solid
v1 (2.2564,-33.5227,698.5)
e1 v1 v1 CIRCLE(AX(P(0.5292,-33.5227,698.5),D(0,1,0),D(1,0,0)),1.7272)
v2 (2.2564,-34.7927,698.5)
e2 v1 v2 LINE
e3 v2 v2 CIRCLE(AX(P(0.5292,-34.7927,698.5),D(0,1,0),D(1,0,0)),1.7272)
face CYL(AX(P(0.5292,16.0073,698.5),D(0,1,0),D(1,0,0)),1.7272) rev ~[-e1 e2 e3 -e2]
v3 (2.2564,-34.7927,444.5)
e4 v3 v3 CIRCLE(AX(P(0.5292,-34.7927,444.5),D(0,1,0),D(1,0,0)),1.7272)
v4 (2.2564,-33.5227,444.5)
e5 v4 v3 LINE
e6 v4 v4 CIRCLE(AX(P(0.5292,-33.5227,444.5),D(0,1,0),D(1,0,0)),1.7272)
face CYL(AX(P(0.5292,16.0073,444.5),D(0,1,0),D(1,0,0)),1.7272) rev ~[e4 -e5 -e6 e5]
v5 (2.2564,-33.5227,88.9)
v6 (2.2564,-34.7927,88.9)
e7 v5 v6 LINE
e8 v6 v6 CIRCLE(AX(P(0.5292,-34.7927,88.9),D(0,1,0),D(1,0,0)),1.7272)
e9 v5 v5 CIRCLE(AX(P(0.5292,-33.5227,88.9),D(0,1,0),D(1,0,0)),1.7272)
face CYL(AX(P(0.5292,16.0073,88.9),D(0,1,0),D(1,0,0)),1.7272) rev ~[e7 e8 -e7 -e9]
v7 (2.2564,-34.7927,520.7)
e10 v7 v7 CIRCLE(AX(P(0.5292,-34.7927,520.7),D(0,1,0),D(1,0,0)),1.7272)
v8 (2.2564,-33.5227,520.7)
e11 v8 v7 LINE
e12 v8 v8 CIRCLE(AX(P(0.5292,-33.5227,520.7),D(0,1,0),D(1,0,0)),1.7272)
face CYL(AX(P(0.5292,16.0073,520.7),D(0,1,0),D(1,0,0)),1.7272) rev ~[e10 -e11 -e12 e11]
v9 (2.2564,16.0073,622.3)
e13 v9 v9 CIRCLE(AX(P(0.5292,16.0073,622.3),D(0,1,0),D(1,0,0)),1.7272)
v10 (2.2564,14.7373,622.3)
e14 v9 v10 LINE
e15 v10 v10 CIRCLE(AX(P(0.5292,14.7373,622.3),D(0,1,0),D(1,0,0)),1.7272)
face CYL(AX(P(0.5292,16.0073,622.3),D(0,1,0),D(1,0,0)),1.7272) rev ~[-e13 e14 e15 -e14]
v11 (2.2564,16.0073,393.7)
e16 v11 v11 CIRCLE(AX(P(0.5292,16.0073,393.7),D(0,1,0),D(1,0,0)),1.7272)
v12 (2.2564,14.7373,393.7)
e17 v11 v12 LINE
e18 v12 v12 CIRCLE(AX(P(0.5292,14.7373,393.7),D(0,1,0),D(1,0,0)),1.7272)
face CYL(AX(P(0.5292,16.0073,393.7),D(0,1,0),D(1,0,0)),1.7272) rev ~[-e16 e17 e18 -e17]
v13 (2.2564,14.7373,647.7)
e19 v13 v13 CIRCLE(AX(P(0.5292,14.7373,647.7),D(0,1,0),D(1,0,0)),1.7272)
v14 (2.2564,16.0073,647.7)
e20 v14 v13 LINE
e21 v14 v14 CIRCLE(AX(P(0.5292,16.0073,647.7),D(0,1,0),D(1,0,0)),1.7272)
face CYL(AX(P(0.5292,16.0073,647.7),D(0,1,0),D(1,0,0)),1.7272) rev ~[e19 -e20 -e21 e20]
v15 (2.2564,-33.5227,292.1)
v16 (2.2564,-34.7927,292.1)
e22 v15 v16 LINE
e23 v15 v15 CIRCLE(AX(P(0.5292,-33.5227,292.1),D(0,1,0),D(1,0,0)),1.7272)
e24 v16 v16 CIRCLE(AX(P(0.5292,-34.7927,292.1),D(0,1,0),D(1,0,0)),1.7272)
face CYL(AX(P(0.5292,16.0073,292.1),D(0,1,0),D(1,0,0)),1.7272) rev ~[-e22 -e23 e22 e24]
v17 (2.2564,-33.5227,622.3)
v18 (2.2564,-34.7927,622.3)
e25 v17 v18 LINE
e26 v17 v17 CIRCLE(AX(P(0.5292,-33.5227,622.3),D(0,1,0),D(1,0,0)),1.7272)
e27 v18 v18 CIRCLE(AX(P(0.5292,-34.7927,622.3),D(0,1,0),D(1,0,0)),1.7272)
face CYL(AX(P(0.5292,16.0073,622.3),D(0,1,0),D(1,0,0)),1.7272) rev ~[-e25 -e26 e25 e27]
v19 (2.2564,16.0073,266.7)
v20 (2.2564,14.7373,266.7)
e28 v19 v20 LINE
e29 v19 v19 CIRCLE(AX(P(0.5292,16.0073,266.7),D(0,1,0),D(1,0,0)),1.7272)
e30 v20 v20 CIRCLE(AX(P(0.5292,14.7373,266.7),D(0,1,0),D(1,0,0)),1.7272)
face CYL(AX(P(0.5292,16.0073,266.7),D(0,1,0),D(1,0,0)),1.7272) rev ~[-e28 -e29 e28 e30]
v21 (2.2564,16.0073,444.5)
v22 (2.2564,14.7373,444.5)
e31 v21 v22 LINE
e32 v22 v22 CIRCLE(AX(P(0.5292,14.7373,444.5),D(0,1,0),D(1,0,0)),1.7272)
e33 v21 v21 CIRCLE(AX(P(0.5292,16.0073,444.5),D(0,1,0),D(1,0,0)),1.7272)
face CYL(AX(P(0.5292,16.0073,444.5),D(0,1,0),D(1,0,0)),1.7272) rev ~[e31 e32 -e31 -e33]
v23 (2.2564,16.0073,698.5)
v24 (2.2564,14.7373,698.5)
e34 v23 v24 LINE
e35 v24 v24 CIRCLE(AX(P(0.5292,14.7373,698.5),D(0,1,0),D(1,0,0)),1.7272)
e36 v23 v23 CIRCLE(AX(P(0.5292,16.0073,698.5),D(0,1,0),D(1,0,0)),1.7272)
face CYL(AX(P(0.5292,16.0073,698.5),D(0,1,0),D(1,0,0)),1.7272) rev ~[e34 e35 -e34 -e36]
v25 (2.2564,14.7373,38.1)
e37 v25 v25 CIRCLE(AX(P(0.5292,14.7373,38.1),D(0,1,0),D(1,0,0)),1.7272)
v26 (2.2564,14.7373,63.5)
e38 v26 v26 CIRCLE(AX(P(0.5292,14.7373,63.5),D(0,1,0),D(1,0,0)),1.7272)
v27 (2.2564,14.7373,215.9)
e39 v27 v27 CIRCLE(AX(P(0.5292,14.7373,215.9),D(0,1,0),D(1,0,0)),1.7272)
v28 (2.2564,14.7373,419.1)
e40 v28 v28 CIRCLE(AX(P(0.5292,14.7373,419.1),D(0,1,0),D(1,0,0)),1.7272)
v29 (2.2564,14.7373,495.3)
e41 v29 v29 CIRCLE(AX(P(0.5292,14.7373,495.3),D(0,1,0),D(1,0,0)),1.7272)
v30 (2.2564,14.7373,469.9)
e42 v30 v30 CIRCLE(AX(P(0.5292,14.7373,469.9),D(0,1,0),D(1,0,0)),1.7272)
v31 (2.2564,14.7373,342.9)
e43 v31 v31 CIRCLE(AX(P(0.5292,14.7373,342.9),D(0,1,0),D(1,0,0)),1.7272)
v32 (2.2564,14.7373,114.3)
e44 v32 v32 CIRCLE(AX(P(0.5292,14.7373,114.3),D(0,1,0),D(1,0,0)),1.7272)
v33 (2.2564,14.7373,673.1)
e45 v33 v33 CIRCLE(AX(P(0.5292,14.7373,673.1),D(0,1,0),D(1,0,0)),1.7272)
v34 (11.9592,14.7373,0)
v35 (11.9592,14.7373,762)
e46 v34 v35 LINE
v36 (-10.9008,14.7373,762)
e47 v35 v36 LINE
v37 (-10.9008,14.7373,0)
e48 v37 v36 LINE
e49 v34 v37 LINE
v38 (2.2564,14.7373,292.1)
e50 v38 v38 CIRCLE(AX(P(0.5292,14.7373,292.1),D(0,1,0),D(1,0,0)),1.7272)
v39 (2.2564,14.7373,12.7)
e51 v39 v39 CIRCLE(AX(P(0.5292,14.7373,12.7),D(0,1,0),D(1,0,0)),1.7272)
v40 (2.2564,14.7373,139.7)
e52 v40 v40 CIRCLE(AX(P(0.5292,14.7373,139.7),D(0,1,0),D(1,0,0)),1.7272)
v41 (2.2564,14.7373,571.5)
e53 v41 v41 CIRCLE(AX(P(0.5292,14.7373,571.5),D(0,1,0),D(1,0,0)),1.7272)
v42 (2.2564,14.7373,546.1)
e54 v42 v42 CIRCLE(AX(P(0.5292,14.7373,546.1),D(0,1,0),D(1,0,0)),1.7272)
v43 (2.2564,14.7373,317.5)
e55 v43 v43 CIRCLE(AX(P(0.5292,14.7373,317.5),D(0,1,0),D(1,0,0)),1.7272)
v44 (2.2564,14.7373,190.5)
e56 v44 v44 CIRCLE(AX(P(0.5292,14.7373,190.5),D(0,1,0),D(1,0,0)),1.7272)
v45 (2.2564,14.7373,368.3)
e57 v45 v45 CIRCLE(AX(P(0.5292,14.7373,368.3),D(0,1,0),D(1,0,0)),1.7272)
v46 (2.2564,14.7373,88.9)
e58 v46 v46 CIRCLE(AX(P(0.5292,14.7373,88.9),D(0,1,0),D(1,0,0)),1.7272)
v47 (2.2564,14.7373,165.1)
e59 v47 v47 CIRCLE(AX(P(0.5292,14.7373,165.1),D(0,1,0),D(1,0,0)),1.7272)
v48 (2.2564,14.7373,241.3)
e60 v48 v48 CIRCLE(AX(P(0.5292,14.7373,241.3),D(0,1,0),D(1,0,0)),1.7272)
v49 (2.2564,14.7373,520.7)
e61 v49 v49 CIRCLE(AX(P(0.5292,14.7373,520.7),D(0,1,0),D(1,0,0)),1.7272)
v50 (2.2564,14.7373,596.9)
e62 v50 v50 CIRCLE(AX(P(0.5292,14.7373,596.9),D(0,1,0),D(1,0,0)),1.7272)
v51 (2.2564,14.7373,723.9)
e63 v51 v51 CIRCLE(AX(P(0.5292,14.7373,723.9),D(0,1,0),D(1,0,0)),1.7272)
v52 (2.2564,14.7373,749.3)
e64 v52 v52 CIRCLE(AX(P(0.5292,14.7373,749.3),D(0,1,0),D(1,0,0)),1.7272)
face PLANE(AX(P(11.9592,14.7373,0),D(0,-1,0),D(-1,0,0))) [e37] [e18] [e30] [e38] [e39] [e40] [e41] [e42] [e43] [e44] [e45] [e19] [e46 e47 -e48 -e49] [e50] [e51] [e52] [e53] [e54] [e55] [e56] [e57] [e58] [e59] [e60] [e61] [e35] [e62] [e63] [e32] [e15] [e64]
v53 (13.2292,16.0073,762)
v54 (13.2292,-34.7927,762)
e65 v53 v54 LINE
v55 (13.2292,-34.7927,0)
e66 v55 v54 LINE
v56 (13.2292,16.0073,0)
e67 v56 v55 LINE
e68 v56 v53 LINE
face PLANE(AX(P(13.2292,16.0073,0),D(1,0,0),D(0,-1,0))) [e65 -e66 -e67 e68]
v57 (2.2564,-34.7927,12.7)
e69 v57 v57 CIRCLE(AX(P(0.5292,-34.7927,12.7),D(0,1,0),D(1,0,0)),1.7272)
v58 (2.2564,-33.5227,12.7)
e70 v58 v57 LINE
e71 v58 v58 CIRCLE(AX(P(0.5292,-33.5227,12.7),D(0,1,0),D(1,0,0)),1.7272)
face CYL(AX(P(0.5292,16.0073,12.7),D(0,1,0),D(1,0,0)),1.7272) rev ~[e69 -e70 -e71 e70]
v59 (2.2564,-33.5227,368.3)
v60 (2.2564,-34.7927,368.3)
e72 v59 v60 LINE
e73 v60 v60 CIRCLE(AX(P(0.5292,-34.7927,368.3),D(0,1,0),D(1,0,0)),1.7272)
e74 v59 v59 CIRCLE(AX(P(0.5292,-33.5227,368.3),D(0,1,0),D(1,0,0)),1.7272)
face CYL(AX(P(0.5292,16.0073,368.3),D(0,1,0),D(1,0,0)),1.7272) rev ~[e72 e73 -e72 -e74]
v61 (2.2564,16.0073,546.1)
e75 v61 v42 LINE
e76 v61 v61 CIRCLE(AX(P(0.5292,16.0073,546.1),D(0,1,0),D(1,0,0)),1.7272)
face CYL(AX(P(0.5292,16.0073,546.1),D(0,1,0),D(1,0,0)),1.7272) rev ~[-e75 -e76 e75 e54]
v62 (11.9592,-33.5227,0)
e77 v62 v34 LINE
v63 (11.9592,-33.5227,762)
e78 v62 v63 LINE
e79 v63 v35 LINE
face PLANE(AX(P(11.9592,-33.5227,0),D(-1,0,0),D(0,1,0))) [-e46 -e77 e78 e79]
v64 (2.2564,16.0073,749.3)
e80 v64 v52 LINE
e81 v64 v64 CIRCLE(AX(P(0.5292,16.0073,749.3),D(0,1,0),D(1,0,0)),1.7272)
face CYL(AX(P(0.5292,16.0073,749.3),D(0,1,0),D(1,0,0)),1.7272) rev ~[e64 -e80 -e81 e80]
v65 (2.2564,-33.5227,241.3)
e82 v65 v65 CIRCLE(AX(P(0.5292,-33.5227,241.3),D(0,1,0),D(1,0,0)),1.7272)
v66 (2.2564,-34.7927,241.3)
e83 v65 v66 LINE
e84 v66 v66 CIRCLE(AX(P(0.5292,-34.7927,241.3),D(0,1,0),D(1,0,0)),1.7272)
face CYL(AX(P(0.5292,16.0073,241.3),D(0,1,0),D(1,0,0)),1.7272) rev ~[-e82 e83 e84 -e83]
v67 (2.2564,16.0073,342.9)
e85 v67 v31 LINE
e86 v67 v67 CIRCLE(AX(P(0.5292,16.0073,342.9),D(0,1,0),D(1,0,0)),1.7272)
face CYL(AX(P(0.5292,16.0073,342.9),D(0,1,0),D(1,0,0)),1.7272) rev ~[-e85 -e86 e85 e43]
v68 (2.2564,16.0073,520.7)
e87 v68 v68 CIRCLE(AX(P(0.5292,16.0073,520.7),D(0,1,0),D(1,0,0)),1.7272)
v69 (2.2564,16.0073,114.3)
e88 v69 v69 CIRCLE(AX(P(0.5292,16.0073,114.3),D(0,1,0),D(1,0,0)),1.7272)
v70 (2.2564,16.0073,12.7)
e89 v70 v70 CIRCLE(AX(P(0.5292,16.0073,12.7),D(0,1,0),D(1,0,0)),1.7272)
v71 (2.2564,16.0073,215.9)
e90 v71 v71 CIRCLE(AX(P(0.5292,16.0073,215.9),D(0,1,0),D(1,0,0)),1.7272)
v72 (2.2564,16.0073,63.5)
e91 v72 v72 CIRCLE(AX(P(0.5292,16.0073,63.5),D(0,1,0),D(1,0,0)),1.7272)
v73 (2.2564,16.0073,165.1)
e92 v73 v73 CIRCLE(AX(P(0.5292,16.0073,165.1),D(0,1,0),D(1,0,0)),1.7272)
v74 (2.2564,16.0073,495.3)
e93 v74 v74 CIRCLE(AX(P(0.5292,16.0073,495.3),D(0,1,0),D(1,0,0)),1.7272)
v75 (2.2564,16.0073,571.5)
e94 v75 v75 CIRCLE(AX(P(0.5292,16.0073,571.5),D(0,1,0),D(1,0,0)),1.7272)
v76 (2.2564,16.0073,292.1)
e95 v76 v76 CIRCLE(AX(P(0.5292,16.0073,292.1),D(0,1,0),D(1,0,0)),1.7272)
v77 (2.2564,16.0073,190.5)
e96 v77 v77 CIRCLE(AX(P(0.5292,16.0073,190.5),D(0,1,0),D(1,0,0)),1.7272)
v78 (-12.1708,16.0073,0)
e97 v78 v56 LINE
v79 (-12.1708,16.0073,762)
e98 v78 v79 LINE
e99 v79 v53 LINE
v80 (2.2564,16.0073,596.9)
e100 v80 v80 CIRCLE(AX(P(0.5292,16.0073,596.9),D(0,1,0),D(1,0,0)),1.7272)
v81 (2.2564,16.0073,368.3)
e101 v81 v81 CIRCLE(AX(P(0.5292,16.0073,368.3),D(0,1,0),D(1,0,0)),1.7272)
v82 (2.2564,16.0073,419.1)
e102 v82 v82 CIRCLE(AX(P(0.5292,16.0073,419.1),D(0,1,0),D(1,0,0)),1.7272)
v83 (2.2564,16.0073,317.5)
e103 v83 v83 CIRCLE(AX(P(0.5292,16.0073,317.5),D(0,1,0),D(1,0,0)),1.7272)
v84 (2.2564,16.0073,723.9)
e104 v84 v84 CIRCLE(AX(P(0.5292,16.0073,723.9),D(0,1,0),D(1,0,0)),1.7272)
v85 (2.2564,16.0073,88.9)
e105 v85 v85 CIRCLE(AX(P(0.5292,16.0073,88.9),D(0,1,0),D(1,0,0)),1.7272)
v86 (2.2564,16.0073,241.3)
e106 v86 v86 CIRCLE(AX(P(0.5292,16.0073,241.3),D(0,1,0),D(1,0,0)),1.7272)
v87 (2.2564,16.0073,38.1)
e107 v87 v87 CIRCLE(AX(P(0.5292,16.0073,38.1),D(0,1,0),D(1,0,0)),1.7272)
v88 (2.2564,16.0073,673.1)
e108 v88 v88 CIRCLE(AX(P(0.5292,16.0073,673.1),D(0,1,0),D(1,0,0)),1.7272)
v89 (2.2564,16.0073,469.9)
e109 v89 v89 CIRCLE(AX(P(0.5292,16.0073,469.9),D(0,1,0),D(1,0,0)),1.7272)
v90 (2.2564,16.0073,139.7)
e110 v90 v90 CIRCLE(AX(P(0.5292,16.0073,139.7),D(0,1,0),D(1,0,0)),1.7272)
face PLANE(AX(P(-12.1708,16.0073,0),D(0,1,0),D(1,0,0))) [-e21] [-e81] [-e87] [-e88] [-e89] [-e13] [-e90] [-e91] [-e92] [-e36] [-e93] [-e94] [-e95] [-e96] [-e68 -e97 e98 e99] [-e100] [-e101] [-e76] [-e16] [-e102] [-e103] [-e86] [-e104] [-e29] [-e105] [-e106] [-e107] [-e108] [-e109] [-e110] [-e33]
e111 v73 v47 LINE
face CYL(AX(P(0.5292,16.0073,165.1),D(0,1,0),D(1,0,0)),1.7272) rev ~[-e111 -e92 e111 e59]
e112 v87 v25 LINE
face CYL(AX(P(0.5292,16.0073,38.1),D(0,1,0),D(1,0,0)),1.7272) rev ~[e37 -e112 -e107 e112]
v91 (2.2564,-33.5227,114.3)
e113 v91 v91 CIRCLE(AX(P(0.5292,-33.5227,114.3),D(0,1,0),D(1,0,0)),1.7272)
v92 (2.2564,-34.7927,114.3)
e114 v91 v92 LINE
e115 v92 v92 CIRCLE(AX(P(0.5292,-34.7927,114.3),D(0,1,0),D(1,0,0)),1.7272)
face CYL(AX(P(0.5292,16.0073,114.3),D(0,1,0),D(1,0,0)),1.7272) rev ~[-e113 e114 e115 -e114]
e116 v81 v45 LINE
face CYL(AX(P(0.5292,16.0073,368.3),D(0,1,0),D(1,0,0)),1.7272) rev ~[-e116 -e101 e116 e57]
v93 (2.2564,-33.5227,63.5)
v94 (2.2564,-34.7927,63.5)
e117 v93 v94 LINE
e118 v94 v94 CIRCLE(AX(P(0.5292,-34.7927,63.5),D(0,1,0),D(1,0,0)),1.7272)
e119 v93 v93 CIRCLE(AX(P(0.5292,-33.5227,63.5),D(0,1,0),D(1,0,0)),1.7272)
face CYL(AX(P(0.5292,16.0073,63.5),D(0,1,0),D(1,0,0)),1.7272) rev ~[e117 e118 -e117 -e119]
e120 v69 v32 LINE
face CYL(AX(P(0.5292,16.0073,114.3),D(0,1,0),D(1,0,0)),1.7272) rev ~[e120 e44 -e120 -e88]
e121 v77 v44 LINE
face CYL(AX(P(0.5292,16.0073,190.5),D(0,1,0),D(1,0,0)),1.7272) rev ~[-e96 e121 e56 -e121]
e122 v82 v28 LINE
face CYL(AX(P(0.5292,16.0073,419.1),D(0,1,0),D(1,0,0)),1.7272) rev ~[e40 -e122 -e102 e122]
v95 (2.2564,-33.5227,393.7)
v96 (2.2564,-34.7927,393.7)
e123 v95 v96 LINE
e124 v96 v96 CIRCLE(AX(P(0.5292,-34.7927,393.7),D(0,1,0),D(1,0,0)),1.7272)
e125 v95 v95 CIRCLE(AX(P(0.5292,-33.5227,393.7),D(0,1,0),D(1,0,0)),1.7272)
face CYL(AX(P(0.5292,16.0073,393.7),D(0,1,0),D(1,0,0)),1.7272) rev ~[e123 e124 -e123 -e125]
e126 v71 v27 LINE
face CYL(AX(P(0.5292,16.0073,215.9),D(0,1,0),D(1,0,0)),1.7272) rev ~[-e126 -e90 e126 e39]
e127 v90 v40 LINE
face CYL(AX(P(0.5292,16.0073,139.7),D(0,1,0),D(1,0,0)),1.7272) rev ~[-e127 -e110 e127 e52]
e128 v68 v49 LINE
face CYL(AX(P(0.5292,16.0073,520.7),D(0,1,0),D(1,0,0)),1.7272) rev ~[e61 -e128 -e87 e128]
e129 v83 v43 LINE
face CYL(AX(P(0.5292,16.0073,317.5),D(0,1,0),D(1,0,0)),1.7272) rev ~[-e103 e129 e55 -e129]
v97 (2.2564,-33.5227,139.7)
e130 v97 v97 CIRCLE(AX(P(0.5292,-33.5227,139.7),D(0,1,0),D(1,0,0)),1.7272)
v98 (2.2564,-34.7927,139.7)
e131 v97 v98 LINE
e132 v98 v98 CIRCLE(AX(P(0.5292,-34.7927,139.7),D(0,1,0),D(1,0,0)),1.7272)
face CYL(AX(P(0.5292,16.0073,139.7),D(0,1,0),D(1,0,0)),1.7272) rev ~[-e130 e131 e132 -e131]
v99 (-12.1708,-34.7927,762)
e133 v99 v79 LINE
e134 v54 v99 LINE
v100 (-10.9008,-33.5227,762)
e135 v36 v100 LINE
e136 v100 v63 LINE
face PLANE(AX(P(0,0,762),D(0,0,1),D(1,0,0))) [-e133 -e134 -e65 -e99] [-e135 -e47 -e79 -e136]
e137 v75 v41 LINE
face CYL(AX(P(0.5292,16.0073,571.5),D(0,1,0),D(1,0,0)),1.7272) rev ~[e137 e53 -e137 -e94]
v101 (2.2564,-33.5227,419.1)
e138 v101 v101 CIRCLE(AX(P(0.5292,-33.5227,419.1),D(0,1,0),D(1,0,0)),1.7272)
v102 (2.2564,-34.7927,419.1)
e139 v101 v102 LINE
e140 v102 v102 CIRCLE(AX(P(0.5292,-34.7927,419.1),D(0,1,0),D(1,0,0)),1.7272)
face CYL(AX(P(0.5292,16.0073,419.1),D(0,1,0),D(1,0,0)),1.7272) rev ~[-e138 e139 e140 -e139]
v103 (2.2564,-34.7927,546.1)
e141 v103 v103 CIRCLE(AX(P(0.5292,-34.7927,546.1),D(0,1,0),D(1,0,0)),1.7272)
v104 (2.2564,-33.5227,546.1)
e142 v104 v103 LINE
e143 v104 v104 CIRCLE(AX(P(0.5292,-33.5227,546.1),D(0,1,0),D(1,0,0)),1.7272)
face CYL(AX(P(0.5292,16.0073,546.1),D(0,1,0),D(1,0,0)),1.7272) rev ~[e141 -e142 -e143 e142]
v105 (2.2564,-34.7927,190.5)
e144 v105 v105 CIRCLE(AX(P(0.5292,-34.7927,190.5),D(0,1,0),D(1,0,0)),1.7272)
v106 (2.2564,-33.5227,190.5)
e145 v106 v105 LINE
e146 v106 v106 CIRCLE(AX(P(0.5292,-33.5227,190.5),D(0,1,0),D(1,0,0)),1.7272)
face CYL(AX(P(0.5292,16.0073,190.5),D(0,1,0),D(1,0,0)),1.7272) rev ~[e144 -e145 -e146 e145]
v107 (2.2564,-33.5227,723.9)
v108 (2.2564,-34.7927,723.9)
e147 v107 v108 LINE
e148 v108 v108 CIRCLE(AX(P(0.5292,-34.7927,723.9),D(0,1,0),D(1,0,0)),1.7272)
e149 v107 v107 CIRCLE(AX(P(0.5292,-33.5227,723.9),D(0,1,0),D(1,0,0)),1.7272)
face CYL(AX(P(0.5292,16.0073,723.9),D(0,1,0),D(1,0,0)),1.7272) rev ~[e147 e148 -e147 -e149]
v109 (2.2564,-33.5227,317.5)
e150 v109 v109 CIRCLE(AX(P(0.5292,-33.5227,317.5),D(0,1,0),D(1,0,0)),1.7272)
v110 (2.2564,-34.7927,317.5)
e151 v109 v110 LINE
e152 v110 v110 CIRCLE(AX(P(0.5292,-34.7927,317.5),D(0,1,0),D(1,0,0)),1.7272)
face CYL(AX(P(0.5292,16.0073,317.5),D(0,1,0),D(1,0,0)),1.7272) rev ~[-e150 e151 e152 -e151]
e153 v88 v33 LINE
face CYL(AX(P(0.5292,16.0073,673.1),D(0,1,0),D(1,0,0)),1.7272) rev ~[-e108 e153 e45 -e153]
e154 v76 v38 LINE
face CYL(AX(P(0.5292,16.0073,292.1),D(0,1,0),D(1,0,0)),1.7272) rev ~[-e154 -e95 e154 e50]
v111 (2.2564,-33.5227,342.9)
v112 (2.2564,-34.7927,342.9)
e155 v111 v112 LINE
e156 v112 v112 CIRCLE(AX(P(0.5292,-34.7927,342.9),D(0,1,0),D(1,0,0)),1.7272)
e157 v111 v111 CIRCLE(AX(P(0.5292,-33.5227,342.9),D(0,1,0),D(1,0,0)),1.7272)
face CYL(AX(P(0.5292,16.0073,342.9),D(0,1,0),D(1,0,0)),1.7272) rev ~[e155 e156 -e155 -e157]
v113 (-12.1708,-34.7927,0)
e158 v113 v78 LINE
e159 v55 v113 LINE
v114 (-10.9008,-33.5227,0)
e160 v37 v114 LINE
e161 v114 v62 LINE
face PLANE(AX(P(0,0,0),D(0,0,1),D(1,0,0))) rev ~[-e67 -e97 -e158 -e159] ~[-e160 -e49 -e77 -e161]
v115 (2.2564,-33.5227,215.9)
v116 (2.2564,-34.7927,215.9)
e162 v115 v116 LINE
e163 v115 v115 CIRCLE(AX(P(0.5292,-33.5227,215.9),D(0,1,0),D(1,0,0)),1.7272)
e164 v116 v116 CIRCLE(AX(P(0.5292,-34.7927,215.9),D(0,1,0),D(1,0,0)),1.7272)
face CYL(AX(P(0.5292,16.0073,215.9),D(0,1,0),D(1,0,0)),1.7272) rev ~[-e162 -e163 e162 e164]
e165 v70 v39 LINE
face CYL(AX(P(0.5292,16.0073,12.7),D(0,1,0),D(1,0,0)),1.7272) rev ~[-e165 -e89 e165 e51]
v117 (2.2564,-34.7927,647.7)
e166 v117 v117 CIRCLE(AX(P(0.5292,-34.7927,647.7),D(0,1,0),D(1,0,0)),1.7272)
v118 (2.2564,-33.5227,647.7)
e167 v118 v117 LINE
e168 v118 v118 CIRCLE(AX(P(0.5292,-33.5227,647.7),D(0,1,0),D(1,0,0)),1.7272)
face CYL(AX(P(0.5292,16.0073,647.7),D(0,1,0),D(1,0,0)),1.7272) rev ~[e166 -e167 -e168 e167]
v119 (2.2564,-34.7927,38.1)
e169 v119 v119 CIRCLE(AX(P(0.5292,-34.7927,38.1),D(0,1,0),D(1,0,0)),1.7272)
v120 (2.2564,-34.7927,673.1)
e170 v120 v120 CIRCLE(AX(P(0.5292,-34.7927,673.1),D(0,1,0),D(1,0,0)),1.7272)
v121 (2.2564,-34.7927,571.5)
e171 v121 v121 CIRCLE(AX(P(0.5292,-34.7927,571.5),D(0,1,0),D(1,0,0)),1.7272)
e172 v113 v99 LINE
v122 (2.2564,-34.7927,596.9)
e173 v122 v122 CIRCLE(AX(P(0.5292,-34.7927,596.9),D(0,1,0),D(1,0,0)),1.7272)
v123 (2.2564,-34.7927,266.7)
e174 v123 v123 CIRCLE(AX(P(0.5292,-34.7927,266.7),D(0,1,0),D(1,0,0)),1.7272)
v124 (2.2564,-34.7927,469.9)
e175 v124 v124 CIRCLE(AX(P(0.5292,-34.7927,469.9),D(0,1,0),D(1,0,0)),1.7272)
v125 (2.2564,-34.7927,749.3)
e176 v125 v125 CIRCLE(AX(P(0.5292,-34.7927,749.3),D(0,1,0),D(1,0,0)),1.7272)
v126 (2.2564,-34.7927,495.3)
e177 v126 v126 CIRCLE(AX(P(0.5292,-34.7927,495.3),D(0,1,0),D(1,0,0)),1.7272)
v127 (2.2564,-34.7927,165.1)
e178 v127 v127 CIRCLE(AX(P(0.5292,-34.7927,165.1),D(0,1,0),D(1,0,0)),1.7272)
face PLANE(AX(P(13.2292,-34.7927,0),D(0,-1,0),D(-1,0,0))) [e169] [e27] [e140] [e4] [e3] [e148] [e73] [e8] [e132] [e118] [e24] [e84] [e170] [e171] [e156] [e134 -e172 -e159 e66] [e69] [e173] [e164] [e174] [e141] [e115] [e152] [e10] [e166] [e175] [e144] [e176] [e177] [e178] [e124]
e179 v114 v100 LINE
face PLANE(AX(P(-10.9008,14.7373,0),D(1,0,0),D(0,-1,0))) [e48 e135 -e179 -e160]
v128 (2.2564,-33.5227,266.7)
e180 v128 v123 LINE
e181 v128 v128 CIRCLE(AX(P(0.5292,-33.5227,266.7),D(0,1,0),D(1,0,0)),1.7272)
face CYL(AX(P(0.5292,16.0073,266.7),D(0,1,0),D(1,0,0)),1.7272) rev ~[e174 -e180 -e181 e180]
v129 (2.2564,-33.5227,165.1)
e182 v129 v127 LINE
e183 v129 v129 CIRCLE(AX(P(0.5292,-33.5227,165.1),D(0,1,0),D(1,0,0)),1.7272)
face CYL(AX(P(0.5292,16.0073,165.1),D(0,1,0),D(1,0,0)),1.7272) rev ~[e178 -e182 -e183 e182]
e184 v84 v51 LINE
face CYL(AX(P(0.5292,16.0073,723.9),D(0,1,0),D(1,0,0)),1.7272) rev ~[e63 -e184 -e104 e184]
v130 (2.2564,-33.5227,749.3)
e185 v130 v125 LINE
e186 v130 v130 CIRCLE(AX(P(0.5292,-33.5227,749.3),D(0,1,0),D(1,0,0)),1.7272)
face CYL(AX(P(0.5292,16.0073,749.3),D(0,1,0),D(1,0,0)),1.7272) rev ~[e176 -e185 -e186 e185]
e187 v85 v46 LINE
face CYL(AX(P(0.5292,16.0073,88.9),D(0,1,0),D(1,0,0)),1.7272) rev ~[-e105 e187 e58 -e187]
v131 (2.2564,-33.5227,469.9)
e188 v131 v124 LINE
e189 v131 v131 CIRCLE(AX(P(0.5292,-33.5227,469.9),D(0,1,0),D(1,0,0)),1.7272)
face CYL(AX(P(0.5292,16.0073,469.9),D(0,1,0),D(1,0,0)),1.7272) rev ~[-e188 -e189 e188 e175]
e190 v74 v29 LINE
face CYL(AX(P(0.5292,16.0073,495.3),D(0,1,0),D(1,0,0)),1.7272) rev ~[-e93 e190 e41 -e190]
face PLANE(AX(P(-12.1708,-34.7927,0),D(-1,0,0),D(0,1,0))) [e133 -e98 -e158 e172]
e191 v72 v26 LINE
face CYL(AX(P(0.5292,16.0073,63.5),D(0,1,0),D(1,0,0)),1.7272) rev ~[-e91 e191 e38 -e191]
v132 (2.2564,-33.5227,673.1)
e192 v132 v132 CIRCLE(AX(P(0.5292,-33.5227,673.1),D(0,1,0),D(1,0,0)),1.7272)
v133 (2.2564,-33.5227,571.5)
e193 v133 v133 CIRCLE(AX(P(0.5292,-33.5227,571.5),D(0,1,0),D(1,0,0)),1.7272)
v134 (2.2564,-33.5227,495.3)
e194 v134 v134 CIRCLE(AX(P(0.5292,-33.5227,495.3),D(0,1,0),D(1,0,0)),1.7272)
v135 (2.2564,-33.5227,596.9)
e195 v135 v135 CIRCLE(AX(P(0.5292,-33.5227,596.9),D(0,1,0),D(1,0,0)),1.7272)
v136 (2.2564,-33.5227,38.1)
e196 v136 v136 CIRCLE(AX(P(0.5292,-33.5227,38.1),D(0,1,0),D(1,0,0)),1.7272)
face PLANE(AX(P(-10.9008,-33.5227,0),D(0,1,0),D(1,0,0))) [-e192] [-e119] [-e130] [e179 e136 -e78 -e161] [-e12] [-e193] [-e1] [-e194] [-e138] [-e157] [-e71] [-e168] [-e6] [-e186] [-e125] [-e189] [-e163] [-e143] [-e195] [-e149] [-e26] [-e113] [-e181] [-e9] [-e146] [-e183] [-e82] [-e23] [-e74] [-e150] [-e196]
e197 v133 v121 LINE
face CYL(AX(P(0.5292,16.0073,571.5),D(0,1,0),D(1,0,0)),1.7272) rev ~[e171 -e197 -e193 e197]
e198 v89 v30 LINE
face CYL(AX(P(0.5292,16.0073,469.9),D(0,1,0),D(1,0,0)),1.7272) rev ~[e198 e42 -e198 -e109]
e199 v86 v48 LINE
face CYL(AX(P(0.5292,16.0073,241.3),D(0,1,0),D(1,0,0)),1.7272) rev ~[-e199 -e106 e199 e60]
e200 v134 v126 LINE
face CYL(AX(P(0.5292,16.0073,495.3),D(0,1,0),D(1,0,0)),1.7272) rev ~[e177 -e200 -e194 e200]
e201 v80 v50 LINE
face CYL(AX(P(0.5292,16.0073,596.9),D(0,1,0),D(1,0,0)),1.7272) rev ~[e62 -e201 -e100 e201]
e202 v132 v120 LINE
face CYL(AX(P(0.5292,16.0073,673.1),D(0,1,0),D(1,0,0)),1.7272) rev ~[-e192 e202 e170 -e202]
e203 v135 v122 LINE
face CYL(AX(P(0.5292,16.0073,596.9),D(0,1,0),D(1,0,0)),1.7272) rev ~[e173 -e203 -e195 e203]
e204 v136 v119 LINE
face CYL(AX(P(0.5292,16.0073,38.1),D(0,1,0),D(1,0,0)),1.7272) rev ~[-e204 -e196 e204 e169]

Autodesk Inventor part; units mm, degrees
ref_plane "YZ Plane" through (0, 0, 0) normal (1, 0, 0) x (0, 1, 0)
ref_plane "XZ Plane" through (0, 0, 0) normal (0, 1, 0) x (-1, 0, 0)
ref_plane "XY Plane" through (0, 0, 0) normal (0, 0, 1) x (1, 0, 0)
sketch "Sketch1" plane through (0, 0, 0) normal (0, 0, 1) x (1, 0, 0)
  line L0 (-12.1708, 16.0073) -> (13.2292, 16.0073)
  line L1 (13.2292, 16.0073) -> (13.2292, -34.7927)
  line L2 (13.2292, -34.7927) -> (-12.1708, -34.7927)
  line L3 (-12.1708, -34.7927) -> (-12.1708, 16.0073)
  line L4 (11.9592, 14.7373) -> (-10.9008, 14.7373)
  line L5 (-10.9008, 14.7373) -> (-10.9008, -33.5227)
  line L6 (-10.9008, -33.5227) -> (11.9592, -33.5227)
  line L7 (11.9592, -33.5227) -> (11.9592, 14.7373)
  point P0 (0, 0)
  dimension "d0" = 25.4
  dimension "d1" = 50.8
  dimension "d2" = 1.27
extrude "Extrusion1" add sketch "Sketch1" along normal blind 762
sketch "Sketch2" plane through (-12.1708, 16.0073, 0) normal (0, 1, 0) x (1, 0, 0)
  circle A0 centre (12.7, -12.7) radius 1.7272
  line L0 (25.4, 0) -> (0, 0) projected
  line L1 (0, 0) -> (0, -762) projected
  point P0 (12.1708, 0)
  dimension "d5" = 3.4544
  dimension "d6" = 12.7
  dimension "d7" = 12.7
extrude "Extrusion2" cut sketch "Sketch2" against normal through all
pattern_linear "Rectangular Pattern1" count 30 spacing 25.4 along (0, 0, 1) of "Extrusion2"
equation "\"d3\" = d13"
equation "\"d13\" = 762"
properties part number "VerseFrame 30in"
